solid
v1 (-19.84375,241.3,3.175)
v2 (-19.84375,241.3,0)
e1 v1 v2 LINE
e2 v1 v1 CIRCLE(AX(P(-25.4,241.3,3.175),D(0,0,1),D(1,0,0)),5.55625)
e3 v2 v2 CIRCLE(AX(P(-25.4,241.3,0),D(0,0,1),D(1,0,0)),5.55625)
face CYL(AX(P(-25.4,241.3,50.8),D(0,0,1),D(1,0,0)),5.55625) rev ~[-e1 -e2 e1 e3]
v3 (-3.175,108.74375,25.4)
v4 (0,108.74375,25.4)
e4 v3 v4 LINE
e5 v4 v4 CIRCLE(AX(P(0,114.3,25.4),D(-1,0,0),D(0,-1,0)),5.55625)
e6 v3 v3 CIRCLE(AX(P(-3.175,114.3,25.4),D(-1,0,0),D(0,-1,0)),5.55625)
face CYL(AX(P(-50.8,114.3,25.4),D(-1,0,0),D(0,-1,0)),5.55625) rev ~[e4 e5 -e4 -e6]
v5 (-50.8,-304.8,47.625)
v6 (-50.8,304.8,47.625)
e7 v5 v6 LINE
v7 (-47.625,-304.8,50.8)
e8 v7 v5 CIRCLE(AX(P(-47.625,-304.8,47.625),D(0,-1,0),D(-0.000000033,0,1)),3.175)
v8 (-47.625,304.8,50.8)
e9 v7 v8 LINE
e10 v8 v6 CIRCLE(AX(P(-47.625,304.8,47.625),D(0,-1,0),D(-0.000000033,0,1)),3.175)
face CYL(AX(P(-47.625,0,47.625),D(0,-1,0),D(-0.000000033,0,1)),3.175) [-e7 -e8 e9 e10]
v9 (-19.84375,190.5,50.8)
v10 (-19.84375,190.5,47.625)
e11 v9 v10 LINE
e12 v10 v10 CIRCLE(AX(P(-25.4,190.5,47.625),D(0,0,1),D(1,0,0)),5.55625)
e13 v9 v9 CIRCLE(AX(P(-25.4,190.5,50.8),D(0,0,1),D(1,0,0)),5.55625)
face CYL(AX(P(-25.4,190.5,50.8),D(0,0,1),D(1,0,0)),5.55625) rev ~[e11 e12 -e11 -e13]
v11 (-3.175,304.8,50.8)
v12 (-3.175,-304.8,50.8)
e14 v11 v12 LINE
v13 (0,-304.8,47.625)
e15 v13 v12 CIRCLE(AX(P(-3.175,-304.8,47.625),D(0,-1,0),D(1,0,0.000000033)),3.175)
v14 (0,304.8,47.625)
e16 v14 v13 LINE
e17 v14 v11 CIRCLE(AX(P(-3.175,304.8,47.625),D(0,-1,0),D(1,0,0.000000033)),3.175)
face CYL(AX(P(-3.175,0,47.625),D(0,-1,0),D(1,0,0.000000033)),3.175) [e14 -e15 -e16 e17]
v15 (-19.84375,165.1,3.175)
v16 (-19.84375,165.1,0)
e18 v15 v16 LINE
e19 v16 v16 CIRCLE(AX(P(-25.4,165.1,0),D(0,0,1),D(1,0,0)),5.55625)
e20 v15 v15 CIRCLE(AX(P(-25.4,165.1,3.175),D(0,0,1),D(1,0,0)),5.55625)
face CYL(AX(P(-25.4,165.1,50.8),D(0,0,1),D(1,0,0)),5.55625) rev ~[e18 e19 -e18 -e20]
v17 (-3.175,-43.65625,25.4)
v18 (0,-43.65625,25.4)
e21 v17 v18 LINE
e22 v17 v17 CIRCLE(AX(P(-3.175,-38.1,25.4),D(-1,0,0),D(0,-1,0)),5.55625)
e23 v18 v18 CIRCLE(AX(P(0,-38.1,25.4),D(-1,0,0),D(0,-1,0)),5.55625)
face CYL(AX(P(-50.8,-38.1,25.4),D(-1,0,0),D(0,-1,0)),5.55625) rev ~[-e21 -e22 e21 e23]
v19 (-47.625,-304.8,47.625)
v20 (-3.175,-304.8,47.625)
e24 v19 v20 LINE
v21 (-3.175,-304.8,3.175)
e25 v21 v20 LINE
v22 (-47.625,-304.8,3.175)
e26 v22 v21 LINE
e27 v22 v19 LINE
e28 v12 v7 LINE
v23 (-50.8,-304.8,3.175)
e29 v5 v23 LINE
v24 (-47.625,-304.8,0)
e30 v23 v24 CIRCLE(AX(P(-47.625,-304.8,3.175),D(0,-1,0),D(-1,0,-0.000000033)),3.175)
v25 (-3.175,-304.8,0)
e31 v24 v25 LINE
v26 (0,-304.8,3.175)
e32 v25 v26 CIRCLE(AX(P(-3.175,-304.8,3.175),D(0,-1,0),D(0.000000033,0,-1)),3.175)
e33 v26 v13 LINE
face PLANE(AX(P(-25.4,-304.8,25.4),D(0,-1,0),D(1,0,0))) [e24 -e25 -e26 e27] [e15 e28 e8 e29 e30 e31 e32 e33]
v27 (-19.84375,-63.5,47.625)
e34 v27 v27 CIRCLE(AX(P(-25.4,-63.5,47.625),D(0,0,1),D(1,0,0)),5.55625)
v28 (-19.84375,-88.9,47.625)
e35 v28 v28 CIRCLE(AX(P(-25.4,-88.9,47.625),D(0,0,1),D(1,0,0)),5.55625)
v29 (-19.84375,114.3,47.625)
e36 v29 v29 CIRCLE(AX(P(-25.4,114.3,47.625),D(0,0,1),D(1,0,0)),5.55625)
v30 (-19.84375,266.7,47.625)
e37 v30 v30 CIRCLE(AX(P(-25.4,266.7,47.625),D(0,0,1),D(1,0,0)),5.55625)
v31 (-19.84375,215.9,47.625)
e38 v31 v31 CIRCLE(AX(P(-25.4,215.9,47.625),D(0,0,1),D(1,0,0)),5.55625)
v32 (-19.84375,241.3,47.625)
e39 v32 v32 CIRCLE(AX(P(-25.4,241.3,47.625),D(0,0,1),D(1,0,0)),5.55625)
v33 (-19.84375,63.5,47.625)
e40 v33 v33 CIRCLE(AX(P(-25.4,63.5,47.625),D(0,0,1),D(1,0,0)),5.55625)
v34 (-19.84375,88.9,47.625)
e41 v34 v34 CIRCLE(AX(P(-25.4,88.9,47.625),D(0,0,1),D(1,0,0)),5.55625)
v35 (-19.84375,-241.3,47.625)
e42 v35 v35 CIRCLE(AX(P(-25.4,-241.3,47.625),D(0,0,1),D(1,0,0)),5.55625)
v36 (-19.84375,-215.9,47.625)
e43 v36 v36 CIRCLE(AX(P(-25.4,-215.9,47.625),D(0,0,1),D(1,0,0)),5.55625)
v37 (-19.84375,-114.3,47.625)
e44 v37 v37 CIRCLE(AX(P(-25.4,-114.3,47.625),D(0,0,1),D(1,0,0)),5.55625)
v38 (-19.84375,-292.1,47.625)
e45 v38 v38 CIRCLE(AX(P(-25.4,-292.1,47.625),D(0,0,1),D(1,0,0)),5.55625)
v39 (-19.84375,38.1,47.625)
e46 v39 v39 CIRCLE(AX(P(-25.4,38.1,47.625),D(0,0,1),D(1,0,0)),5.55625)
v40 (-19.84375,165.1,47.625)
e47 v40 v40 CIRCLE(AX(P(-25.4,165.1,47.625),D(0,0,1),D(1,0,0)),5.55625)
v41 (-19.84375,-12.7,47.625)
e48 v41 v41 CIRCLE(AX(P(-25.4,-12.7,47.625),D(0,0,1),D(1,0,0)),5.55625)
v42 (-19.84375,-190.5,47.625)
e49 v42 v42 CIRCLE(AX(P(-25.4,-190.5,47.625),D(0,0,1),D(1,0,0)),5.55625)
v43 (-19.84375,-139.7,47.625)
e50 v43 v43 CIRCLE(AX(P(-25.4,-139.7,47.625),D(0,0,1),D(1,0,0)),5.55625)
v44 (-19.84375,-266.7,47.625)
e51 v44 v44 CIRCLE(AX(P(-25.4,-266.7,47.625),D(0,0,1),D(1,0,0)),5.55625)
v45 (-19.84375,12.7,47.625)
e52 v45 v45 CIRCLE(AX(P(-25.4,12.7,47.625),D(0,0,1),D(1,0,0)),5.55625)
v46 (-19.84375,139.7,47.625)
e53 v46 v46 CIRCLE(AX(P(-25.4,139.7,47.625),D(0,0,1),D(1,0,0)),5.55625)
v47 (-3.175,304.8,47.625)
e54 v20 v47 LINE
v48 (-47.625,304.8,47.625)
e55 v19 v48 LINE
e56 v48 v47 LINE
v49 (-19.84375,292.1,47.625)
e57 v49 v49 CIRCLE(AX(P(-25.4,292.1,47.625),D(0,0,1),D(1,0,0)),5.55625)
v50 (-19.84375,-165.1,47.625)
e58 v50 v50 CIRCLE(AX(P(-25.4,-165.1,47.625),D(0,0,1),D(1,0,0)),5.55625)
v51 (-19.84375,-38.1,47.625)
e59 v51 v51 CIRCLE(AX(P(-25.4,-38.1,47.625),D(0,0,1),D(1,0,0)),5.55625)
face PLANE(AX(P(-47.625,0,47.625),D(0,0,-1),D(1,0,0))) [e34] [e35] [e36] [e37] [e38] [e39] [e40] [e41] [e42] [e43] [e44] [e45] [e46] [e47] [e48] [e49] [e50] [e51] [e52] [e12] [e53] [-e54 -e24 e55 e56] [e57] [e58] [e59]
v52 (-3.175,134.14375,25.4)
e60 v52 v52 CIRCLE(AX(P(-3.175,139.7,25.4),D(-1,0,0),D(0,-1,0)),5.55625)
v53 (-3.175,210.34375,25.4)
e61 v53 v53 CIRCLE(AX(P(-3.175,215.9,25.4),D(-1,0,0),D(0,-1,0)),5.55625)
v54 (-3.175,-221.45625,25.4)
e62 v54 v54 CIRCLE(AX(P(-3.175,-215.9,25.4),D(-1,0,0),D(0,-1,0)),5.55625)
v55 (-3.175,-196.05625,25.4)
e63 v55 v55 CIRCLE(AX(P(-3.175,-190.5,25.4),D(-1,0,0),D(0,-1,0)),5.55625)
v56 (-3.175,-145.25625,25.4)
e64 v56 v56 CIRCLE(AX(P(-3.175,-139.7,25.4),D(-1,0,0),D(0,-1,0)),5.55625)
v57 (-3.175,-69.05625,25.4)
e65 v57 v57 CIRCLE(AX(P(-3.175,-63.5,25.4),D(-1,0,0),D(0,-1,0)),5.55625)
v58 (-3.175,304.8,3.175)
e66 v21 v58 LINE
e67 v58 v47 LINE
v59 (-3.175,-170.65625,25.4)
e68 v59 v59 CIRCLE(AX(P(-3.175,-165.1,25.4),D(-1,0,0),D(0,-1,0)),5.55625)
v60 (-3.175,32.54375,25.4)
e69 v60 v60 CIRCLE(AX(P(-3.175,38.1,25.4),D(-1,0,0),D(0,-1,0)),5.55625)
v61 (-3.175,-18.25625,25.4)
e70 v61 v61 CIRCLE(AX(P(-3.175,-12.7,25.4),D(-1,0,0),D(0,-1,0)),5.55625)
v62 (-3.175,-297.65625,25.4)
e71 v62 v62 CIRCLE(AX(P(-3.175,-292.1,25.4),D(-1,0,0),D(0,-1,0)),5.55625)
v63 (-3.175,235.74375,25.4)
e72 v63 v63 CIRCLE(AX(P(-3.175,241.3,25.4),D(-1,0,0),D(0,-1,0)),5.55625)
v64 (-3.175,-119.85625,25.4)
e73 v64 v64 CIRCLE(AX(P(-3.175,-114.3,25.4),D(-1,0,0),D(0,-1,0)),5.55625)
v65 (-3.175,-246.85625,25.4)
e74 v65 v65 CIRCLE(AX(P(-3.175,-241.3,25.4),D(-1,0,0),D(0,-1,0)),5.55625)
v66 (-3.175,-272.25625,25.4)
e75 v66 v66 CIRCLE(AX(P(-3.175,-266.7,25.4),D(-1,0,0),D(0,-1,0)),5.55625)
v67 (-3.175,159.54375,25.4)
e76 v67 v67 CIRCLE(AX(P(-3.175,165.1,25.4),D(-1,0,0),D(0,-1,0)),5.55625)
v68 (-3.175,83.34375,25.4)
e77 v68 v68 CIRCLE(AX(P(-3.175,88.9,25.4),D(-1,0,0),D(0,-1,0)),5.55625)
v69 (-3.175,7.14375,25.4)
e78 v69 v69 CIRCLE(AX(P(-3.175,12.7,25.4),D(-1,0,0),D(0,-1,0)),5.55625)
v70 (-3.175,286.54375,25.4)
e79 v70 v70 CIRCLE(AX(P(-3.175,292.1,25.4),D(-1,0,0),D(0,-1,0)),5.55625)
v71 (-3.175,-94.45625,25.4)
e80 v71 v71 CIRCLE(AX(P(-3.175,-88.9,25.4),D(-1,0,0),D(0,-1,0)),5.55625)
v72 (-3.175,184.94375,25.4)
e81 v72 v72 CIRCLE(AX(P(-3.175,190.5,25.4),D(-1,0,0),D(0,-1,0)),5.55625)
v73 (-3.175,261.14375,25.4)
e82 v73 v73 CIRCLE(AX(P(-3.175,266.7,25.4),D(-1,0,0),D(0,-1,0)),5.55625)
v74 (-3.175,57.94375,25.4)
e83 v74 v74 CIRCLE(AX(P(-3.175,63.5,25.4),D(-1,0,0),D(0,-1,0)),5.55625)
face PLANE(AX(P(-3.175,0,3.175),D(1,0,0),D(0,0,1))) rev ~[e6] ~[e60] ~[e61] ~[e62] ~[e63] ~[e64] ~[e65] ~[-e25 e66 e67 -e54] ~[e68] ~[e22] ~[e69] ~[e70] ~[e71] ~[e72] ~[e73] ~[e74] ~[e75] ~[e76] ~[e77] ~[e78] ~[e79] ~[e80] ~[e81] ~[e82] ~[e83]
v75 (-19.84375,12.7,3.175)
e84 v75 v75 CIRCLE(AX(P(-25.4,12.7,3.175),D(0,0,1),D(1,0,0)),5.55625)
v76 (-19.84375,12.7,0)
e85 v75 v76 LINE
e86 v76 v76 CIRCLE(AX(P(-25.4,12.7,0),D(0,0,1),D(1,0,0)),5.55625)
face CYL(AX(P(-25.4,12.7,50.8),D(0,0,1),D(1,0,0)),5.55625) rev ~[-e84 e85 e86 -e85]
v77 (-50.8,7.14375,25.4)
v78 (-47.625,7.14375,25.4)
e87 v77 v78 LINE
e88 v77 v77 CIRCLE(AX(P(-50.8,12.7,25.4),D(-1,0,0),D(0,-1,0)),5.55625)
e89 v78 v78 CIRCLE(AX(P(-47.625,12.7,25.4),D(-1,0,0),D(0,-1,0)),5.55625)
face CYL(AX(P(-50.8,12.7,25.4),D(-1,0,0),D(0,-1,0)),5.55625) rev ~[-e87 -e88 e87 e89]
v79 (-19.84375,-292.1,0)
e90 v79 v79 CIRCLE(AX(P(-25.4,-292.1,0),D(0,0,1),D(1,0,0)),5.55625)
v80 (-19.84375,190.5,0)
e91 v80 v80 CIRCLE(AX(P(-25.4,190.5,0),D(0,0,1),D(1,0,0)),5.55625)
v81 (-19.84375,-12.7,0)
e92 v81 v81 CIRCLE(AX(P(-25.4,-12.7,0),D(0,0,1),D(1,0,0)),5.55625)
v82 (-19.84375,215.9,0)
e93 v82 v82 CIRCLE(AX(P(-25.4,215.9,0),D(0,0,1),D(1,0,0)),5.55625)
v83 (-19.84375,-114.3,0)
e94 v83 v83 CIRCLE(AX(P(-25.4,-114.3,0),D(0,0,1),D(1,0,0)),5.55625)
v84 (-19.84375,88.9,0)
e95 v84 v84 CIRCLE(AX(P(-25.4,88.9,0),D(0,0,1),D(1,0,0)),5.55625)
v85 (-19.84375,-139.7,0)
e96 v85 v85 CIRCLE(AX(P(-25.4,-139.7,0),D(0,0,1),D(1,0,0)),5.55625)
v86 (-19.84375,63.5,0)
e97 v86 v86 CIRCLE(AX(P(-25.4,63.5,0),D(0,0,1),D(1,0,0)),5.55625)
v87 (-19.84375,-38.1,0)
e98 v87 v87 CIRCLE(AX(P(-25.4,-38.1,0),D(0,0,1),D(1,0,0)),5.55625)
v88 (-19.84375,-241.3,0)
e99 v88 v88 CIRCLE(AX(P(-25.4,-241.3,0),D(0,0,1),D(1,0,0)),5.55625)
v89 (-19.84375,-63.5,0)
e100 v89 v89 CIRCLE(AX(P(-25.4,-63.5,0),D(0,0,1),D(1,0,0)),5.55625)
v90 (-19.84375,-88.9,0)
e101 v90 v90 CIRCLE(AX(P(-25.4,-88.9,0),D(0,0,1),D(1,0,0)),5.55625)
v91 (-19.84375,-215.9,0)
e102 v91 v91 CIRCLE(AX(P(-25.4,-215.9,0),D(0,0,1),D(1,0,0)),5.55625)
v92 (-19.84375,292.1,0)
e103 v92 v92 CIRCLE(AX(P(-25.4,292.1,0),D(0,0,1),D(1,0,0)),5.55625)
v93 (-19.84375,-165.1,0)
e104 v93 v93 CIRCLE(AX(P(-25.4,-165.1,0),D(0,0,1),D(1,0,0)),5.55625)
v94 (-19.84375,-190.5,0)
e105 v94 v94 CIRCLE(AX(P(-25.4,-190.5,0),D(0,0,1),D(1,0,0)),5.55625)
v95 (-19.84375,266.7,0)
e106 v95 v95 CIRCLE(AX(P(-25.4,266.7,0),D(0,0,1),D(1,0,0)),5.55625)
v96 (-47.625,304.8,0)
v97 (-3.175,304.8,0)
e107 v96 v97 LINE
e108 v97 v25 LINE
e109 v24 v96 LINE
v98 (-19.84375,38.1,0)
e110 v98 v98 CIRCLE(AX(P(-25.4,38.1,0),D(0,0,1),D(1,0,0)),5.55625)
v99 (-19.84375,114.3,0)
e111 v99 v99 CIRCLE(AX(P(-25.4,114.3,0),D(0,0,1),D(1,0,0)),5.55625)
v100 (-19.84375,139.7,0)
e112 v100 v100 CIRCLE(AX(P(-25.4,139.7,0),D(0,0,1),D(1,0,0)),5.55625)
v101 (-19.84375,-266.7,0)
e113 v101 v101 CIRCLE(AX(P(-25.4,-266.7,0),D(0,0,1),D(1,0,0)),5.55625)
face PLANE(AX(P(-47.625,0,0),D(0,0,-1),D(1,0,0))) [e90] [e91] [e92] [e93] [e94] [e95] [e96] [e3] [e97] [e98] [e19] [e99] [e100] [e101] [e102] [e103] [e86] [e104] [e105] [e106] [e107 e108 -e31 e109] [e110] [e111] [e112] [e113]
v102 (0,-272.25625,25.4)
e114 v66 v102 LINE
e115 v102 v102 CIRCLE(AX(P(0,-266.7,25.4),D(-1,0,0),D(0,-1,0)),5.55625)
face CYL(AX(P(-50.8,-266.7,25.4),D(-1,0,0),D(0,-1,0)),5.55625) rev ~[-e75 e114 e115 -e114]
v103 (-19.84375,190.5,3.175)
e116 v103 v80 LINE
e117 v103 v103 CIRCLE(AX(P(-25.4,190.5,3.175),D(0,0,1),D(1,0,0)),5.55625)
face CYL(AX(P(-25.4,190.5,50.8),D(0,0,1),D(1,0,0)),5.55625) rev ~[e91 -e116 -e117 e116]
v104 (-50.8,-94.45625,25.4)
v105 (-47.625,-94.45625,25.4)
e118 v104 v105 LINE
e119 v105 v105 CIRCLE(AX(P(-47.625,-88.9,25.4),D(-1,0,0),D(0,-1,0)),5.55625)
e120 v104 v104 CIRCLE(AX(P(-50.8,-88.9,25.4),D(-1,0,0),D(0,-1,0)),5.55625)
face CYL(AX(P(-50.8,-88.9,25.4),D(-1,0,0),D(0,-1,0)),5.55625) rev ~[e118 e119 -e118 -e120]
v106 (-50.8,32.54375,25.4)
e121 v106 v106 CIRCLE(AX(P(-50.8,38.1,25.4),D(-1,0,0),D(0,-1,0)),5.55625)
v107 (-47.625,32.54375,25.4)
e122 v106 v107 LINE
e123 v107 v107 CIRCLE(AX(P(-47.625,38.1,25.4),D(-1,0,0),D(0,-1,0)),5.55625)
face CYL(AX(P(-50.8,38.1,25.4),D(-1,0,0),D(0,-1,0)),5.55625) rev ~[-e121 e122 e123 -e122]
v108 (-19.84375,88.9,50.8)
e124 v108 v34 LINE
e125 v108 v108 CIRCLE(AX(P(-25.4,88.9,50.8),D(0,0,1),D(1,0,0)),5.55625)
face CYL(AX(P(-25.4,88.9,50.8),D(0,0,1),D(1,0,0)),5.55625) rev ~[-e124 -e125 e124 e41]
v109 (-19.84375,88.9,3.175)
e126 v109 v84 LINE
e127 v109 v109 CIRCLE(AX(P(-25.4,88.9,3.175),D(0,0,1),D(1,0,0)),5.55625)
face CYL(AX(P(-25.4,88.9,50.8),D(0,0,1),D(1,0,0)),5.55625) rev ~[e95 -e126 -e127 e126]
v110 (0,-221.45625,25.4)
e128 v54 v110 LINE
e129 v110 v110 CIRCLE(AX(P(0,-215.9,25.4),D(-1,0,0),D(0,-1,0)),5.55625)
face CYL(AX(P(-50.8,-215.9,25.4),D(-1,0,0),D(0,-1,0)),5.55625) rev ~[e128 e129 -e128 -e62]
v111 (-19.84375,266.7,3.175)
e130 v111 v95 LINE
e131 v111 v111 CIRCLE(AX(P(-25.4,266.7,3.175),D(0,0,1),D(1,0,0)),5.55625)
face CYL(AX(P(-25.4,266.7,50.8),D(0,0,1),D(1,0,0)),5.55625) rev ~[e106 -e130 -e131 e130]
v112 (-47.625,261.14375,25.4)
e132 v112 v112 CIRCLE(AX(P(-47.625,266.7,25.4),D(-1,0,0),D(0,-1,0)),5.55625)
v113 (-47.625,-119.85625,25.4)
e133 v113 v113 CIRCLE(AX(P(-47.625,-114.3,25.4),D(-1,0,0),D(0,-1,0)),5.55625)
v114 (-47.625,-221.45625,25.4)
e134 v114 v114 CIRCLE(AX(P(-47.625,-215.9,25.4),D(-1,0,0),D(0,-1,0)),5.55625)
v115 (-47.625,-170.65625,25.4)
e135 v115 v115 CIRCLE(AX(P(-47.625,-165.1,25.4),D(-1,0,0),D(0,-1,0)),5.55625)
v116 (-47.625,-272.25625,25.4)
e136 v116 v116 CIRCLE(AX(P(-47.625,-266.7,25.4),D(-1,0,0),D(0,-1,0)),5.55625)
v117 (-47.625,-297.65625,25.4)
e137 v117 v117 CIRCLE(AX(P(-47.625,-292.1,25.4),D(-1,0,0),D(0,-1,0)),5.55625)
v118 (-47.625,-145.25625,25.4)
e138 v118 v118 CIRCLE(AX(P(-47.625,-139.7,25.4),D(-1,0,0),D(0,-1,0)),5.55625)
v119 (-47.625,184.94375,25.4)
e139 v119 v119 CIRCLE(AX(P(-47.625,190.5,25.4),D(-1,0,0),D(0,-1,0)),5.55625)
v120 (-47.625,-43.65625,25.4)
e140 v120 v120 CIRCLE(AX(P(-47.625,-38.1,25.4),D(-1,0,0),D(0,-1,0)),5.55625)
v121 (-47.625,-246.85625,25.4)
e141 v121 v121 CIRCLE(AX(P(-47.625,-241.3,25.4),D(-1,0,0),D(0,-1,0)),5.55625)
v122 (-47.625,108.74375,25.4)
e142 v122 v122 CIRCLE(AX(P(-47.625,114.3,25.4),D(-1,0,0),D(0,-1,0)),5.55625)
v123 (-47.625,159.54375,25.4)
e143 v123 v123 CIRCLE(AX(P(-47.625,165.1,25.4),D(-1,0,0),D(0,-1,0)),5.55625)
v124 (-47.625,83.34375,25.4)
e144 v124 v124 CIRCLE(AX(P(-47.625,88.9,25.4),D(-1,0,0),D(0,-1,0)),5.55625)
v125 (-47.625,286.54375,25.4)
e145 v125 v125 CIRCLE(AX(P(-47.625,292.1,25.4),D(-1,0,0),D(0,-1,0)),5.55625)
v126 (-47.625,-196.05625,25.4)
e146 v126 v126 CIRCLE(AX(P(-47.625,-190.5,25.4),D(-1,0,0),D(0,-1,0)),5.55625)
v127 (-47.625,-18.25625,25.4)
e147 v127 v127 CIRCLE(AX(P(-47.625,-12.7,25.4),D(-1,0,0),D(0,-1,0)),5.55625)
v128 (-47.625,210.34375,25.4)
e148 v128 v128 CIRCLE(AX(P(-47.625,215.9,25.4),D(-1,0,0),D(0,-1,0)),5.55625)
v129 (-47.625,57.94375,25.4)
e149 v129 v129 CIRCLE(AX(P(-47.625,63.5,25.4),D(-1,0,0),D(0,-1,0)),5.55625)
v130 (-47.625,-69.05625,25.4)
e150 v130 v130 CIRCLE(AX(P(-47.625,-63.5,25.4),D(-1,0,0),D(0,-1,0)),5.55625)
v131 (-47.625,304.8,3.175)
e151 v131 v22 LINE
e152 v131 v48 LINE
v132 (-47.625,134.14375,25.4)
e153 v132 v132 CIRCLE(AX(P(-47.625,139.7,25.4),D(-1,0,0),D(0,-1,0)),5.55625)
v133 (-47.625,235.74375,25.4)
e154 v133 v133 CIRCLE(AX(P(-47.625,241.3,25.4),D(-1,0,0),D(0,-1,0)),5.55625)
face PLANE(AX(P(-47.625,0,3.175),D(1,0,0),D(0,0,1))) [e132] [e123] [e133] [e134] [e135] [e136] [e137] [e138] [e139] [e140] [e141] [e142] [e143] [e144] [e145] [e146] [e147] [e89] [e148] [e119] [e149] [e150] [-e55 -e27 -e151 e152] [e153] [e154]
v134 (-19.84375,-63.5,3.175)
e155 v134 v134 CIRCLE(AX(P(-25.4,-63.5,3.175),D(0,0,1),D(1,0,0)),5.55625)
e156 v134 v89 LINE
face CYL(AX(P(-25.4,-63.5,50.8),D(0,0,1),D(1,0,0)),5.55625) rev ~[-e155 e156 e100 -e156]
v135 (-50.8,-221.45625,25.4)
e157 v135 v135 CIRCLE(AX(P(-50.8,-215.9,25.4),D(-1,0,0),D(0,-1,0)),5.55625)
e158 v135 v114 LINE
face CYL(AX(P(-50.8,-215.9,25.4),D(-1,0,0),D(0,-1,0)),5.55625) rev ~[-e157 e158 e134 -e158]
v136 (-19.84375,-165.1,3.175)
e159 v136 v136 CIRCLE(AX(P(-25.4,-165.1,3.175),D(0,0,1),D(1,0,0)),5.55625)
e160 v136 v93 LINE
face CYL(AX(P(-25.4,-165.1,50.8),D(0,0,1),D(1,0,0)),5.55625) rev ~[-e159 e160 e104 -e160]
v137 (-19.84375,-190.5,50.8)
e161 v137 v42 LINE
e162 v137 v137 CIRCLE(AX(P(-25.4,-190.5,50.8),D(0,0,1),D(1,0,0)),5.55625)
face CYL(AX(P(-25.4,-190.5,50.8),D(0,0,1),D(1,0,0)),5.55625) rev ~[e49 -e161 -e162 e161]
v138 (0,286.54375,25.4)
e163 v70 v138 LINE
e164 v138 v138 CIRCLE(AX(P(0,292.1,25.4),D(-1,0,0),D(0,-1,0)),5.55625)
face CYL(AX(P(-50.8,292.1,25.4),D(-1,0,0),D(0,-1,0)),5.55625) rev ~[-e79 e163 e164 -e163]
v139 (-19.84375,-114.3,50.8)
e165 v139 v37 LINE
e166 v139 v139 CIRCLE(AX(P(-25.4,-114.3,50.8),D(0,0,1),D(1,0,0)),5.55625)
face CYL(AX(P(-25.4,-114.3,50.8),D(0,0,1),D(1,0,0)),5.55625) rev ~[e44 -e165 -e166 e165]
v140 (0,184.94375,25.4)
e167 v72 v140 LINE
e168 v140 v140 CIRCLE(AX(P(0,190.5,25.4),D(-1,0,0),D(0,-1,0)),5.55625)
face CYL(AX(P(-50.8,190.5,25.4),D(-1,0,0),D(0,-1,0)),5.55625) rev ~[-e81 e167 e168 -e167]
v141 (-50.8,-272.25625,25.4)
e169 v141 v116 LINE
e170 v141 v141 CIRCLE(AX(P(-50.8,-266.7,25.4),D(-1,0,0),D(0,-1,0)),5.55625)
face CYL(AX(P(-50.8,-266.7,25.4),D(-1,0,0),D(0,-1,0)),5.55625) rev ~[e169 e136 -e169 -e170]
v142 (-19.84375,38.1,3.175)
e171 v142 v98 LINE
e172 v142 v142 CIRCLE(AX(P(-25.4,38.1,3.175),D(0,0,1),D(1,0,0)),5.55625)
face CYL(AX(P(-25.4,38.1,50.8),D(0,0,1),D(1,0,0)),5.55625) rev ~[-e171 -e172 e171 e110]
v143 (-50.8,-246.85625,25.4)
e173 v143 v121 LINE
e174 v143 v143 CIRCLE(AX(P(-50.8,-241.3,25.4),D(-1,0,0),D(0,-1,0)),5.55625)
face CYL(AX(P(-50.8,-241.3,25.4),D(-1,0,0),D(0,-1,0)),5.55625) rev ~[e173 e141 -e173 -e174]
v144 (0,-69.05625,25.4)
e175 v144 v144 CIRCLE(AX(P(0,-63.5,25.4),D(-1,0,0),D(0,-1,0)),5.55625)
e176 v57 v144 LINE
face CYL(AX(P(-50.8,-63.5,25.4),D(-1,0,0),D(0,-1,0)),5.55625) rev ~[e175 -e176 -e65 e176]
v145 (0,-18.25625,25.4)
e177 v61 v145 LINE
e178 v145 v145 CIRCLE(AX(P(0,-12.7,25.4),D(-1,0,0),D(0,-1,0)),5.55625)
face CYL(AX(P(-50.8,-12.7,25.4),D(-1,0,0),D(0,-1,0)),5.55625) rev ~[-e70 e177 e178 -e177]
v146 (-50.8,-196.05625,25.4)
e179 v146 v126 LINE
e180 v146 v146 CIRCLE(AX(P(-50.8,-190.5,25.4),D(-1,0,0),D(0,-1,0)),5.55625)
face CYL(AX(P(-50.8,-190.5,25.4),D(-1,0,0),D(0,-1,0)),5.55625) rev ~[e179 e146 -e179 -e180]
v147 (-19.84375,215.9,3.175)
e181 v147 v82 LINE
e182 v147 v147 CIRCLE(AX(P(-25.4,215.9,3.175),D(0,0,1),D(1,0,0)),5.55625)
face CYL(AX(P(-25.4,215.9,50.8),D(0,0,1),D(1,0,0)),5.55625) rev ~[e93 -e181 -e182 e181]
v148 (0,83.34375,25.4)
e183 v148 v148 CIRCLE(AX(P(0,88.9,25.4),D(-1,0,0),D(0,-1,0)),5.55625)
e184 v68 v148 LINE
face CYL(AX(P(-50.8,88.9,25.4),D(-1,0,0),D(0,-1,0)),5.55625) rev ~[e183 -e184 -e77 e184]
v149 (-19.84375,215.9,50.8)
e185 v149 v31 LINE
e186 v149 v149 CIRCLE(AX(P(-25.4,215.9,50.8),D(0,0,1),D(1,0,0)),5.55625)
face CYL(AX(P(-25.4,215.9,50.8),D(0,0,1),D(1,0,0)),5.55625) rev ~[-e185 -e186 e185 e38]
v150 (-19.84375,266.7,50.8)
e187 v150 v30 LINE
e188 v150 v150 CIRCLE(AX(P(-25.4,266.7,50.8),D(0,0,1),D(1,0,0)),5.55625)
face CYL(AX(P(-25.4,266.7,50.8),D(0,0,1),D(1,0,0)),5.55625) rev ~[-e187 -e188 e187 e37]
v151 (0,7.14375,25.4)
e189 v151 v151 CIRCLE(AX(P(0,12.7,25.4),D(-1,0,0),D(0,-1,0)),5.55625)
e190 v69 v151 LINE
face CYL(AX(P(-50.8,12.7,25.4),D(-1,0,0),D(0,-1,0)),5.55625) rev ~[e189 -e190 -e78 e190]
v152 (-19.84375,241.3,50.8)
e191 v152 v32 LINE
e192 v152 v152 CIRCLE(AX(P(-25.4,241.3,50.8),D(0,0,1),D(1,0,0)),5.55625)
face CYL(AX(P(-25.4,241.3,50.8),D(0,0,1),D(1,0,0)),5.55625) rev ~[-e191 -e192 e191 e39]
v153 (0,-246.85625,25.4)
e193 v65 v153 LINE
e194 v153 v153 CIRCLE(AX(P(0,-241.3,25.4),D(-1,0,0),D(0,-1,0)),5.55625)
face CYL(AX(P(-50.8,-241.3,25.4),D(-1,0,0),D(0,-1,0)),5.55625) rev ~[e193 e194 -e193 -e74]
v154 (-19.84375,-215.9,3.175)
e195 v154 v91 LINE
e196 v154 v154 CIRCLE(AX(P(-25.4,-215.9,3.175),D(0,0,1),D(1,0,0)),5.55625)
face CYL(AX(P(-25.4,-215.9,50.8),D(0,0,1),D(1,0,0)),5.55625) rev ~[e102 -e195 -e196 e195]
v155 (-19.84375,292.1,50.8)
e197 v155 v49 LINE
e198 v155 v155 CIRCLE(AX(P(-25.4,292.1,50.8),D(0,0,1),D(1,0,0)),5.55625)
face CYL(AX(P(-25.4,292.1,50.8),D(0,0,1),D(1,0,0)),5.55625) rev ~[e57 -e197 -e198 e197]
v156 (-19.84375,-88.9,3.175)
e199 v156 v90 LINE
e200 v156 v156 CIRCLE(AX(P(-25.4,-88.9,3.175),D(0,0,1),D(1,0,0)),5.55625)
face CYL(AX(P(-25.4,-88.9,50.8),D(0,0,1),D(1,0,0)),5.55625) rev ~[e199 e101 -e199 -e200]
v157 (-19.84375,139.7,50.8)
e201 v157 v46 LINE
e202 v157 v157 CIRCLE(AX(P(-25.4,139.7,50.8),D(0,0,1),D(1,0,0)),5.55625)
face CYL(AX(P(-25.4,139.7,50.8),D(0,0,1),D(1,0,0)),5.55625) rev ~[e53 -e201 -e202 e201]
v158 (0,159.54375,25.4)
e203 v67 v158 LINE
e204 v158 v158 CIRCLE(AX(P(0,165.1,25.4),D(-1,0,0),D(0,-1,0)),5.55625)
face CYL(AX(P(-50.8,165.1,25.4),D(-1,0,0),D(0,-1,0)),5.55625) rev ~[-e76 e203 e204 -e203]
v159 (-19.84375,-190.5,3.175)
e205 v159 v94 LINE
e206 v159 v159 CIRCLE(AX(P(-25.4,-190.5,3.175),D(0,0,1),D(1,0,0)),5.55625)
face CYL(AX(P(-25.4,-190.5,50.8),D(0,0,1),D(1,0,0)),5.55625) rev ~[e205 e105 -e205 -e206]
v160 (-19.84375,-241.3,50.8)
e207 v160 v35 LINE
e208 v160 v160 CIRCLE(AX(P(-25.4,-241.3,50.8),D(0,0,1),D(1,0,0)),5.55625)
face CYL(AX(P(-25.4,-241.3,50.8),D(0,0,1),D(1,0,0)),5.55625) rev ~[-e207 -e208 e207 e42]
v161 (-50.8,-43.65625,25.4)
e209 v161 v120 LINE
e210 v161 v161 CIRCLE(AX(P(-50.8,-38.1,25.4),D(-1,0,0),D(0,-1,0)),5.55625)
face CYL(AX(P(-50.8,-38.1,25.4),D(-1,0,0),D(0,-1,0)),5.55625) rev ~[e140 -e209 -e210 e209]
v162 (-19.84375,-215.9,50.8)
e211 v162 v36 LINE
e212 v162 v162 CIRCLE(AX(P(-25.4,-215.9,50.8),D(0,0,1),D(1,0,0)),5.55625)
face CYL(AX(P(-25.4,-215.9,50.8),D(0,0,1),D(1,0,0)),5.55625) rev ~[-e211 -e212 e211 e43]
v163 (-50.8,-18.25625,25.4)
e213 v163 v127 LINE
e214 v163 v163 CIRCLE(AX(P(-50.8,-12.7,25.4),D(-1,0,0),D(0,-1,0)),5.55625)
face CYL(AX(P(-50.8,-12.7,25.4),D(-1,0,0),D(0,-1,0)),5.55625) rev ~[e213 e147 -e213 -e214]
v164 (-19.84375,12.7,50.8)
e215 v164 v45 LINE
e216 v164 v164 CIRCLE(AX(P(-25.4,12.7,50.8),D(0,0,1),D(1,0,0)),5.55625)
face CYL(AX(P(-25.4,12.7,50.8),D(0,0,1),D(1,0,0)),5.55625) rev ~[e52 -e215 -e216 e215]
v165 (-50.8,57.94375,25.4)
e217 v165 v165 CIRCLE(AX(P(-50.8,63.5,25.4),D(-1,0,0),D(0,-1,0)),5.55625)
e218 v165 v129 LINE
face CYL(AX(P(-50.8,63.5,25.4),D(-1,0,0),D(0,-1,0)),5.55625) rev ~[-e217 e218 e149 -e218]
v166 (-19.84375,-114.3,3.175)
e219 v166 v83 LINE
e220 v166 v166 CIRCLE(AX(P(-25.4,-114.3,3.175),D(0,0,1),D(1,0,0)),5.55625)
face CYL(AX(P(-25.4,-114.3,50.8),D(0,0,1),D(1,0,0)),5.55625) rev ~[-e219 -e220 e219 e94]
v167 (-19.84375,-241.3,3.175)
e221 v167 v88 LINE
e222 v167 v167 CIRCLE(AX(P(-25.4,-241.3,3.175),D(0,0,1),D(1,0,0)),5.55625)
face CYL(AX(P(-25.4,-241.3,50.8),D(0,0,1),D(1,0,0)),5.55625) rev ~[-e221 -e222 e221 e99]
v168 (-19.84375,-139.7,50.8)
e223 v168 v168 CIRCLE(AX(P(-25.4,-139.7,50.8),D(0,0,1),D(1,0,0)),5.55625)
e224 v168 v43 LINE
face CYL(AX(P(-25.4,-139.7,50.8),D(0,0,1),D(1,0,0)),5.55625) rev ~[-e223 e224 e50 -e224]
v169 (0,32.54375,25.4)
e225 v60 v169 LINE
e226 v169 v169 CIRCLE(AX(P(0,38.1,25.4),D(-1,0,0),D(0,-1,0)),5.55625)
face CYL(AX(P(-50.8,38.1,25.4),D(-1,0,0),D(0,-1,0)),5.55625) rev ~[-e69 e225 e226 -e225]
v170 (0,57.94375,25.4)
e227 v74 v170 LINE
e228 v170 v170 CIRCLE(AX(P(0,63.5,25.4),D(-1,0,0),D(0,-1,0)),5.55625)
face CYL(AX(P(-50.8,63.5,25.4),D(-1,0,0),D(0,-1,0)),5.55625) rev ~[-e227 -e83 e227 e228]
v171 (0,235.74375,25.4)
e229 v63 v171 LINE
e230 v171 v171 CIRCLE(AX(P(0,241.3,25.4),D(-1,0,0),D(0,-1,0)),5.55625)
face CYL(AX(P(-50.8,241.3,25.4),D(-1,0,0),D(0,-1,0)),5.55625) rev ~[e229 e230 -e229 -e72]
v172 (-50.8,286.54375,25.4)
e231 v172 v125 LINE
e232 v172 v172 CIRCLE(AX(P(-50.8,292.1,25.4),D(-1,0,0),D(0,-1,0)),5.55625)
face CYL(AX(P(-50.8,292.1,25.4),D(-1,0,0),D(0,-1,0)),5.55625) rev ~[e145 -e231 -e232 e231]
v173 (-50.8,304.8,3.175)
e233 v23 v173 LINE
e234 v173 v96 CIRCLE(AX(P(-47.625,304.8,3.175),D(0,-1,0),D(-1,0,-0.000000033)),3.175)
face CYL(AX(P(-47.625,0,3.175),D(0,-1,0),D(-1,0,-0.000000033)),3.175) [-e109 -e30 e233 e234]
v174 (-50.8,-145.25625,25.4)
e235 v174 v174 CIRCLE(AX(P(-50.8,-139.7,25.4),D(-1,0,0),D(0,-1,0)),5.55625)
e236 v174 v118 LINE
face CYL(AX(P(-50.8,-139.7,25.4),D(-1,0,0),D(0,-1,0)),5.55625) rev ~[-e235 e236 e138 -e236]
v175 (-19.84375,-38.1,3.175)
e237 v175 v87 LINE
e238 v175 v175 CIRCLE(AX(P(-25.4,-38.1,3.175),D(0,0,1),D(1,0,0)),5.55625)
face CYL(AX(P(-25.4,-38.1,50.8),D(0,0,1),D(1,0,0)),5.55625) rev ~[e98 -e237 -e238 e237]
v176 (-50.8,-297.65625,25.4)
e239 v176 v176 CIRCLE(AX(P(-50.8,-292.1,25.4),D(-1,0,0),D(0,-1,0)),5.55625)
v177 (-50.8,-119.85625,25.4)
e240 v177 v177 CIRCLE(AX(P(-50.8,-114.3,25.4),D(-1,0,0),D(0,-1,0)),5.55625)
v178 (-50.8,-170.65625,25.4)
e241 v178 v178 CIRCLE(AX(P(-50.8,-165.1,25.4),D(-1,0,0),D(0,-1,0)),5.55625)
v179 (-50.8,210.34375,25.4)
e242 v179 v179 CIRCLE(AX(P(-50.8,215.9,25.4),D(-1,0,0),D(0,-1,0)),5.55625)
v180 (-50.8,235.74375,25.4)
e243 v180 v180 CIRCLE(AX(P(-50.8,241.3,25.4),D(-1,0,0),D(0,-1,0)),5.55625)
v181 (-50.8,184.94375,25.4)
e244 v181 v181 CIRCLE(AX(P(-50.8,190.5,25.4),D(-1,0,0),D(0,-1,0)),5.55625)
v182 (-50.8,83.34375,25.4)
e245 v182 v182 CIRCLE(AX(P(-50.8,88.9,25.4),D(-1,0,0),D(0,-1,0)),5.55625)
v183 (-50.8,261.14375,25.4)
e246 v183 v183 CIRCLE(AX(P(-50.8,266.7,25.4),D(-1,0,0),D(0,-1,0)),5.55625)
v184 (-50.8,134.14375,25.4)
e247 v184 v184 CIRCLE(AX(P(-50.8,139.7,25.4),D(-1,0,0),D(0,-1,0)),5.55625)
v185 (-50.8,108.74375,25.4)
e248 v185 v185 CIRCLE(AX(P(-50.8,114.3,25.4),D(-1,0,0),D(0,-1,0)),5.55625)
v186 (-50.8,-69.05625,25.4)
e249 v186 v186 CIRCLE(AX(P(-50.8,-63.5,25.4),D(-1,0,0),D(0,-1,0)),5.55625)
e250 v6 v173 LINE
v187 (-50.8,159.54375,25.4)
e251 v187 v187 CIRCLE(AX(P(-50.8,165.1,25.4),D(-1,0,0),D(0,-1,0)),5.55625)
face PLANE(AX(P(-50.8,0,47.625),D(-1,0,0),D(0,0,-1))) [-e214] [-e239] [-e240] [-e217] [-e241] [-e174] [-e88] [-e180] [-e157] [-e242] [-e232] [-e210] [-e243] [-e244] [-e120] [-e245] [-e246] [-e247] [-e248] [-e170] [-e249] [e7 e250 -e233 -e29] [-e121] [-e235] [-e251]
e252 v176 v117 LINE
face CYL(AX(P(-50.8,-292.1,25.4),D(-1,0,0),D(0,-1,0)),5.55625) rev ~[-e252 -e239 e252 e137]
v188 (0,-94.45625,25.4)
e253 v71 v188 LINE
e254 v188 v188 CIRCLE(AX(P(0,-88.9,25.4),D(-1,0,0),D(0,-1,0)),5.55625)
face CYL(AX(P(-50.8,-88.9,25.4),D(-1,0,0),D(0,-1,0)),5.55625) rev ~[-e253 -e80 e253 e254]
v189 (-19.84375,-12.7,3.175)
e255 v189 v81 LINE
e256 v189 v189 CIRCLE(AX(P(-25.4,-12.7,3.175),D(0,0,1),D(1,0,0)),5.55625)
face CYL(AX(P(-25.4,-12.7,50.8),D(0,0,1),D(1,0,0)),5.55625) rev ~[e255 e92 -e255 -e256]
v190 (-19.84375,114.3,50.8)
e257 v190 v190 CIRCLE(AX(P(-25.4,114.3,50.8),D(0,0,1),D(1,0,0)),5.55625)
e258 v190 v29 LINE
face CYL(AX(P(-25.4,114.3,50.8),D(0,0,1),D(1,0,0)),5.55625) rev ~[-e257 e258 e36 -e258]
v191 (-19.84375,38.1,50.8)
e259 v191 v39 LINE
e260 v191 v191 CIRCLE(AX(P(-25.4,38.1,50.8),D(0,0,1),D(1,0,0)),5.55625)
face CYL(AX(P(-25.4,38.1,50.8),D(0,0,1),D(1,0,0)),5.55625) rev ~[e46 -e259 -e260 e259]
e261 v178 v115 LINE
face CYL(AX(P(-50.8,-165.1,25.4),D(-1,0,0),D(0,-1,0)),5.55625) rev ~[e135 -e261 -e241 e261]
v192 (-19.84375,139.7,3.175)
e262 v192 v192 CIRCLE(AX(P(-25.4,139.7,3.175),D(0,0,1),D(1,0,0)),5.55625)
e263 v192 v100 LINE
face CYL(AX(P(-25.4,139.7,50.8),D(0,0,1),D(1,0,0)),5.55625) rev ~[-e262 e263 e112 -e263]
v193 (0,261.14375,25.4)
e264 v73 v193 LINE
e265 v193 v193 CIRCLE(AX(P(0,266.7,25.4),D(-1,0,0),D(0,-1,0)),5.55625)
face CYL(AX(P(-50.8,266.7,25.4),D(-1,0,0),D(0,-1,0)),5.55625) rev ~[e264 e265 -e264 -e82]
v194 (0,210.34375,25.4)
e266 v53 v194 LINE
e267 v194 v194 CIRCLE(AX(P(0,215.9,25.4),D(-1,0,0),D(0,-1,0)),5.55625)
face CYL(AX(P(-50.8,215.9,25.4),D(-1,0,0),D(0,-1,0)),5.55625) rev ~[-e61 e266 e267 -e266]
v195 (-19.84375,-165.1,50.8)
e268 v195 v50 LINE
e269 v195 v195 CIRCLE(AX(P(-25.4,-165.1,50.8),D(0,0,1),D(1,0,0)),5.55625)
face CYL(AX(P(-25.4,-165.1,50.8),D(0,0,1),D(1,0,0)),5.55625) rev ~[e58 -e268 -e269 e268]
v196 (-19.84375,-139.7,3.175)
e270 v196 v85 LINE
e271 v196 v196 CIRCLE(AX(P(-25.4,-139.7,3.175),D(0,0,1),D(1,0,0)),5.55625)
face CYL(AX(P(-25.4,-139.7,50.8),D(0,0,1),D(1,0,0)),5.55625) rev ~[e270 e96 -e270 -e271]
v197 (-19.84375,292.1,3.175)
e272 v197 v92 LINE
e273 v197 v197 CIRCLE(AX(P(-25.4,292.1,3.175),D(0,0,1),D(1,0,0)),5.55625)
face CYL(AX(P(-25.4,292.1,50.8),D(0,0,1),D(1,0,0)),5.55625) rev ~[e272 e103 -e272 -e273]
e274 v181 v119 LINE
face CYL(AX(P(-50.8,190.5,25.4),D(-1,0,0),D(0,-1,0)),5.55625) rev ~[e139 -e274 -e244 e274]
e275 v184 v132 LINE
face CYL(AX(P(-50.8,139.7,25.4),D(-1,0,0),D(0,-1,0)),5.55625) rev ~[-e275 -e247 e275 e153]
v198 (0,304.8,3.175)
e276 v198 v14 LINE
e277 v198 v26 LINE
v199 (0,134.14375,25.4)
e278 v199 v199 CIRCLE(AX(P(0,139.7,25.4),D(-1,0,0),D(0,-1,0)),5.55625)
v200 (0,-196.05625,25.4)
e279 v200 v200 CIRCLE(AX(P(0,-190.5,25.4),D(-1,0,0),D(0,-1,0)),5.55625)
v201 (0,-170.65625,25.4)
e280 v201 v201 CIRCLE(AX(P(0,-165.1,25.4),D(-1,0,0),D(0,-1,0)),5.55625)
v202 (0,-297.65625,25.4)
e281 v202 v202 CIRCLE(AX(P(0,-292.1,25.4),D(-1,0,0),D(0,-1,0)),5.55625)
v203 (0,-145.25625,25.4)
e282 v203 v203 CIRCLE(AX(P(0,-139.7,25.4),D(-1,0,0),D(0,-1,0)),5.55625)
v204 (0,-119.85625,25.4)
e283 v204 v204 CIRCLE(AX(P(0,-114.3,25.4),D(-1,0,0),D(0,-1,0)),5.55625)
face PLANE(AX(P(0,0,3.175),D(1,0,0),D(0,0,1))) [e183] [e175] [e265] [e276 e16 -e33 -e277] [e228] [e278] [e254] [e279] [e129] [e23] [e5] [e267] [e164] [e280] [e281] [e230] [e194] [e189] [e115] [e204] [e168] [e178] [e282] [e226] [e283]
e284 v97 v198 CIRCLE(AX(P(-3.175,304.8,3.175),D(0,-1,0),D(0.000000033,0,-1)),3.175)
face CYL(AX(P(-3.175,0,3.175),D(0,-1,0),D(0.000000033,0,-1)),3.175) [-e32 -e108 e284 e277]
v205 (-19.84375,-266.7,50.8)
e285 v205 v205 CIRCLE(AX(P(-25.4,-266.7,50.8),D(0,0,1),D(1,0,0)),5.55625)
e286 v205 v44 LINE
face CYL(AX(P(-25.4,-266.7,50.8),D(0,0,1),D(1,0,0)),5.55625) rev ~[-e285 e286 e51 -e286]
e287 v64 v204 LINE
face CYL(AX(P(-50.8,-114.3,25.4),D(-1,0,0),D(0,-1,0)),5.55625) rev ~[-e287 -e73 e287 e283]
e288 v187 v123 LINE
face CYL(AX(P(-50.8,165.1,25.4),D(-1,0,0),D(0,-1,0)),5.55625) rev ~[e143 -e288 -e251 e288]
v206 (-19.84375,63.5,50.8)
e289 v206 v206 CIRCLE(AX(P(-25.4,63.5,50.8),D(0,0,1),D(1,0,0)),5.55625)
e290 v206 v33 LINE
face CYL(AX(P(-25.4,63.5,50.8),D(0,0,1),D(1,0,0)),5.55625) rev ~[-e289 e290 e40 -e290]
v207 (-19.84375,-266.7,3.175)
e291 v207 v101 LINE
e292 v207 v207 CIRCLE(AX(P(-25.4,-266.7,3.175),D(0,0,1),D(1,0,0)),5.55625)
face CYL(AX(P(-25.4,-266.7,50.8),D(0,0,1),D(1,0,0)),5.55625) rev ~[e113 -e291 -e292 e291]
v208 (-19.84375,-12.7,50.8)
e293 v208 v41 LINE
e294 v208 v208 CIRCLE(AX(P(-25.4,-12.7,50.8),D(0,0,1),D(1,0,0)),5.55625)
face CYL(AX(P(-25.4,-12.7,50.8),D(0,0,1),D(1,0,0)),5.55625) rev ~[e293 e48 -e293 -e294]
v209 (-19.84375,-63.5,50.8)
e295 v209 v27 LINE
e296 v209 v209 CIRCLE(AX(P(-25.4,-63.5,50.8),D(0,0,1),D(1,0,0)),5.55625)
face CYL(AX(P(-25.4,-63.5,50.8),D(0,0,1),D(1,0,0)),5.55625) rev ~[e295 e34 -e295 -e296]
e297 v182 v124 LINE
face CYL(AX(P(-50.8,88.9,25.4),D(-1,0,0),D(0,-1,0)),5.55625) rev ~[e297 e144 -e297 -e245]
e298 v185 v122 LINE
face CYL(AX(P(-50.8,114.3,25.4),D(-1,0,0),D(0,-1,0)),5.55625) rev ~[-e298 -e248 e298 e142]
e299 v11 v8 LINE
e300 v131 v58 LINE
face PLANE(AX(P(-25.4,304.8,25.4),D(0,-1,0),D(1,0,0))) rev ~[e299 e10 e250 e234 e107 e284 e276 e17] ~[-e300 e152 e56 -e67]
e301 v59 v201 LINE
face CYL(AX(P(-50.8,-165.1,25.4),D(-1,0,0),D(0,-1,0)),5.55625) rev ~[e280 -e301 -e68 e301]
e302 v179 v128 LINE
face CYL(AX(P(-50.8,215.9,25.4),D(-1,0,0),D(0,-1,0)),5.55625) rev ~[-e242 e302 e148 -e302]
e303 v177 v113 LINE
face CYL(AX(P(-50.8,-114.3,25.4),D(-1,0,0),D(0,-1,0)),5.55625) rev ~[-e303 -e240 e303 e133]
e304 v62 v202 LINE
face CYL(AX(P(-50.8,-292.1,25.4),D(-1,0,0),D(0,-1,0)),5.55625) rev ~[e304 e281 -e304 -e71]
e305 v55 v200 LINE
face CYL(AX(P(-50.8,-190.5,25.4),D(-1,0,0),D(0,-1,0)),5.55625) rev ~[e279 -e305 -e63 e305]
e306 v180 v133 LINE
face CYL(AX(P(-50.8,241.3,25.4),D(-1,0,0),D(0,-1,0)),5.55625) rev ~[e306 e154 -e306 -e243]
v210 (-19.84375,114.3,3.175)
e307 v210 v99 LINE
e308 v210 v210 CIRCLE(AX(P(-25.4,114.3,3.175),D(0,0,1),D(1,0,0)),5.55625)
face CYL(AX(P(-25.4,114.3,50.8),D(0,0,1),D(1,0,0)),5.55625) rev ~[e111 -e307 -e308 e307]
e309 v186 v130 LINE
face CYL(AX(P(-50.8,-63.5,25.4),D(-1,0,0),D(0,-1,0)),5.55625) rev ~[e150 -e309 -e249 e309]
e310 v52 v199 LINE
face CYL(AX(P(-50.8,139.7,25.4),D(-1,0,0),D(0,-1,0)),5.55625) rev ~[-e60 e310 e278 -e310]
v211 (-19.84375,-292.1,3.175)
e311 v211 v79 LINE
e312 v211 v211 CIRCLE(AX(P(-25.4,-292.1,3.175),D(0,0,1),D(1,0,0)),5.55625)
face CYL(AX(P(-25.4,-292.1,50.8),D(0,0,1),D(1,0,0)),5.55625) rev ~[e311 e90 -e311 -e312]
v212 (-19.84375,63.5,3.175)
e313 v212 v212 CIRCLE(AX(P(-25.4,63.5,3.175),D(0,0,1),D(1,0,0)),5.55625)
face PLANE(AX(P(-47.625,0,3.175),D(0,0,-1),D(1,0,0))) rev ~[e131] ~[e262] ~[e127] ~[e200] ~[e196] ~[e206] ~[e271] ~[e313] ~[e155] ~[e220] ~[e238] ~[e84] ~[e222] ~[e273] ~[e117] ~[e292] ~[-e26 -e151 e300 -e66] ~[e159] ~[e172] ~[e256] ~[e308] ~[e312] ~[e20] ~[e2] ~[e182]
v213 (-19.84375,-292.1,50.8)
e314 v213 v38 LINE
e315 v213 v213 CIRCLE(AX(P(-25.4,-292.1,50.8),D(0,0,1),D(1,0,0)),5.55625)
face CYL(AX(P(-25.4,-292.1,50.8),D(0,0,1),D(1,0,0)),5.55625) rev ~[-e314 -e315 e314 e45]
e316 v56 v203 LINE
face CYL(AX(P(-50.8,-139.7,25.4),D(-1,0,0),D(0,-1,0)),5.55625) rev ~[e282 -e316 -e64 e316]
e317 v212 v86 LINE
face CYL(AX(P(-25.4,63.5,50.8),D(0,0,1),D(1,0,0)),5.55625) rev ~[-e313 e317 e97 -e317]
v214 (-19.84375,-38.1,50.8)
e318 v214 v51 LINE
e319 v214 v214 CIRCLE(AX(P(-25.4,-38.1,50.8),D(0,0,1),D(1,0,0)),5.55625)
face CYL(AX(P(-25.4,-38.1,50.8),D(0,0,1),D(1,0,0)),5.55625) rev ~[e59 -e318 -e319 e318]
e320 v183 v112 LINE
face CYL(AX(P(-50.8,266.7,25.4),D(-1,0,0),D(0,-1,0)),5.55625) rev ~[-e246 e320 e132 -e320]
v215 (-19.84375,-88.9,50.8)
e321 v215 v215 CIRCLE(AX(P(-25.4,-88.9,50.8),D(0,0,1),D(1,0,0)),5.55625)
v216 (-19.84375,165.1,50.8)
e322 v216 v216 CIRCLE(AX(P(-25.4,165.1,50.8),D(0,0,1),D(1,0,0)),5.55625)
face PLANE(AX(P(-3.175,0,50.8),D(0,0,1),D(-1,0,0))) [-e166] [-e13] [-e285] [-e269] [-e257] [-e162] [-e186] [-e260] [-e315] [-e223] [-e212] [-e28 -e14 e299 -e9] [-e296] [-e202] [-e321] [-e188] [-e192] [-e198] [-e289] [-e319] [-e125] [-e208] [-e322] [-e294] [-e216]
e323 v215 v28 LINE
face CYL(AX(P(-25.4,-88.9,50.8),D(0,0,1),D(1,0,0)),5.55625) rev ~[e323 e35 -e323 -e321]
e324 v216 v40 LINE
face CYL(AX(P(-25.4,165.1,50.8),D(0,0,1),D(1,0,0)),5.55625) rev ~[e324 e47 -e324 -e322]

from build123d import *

# Parameters (mm, degrees)
F0_W     = 44.45
F0_H     = 44.45
F1_DEPTH = 304.8
F2_R     = 5.55625
F3_DEPTH = 50.8
F4_R     = 5.55625
F5_DEPTH = 50.8


with BuildPart() as f1:
    # F0 (on Front) → F1 (new body, symmetric)
    with BuildSketch(Plane.XZ):
        with BuildLine():
            Line((-47.625, 0), (-3.175, 0))
            ThreePointArc((-3.175, 0), (-0.929936, 0.929936), (0, 3.175))
            Line((0, 3.175), (0, 47.625))
            ThreePointArc((0, 47.625), (-0.929936, 49.870064), (-3.175, 50.8))
            Line((-3.175, 50.8), (-47.625, 50.8))
            ThreePointArc((-47.625, 50.8), (-49.870064, 49.870064), (-50.8, 47.625))
            Line((-50.8, 47.625), (-50.8, 3.175))
            ThreePointArc((-50.8, 3.175), (-49.870064, 0.929936), (-47.625, 0))
        make_face()
        with Locations((-25.4, 25.4)):
            Rectangle(F0_W, F0_H, mode=Mode.SUBTRACT)
    extrude(amount=F1_DEPTH, both=True)

    # F2 (on face) → F3 (cut)
    with BuildSketch(Plane(origin=(-50.8, 0, 0), x_dir=(0, -1, 0), z_dir=(-1, 0, 0))):
        with Locations((-292.1, 25.4)):
            Circle(F2_R)
        with Locations((-266.7, 25.4)):
            Circle(F2_R)
        with Locations((-241.3, 25.4)):
            Circle(F2_R)
        with Locations((-215.9, 25.4)):
            Circle(F2_R)
        with Locations((-190.5, 25.4)):
            Circle(F2_R)
        with Locations((-165.1, 25.4)):
            Circle(F2_R)
        with Locations((-139.7, 25.4)):
            Circle(F2_R)
        with Locations((-114.3, 25.4)):
            Circle(F2_R)
        with Locations((-88.9, 25.4)):
            Circle(F2_R)
        with Locations((-63.5, 25.4)):
            Circle(F2_R)
        with Locations((-38.1, 25.4)):
            Circle(F2_R)
        with Locations((-12.7, 25.4)):
            Circle(F2_R)
        with Locations((12.7, 25.4)):
            Circle(F2_R)
        with Locations((38.1, 25.4)):
            Circle(F2_R)
        with Locations((63.5, 25.4)):
            Circle(F2_R)
        with Locations((88.9, 25.4)):
            Circle(F2_R)
        with Locations((114.3, 25.4)):
            Circle(F2_R)
        with Locations((139.7, 25.4)):
            Circle(F2_R)
        with Locations((165.1, 25.4)):
            Circle(F2_R)
        with Locations((190.5, 25.4)):
            Circle(F2_R)
        with Locations((215.9, 25.4)):
            Circle(F2_R)
        with Locations((241.3, 25.4)):
            Circle(F2_R)
        with Locations((266.7, 25.4)):
            Circle(F2_R)
        with Locations((292.1, 25.4)):
            Circle(F2_R)
    extrude(amount=-F3_DEPTH, mode=Mode.SUBTRACT)

    # F4 (on face) → F5 (cut)
    with BuildSketch(Plane.XY.offset(50.8)):
        with Locations((-25.4, -292.1)):
            Circle(F4_R)
        with Locations((-25.4, -266.7)):
            Circle(F4_R)
        with Locations((-25.4, -241.3)):
            Circle(F4_R)
        with Locations((-25.4, -215.9)):
            Circle(F4_R)
        with Locations((-25.4, -190.5)):
            Circle(F4_R)
        with Locations((-25.4, -165.1)):
            Circle(F4_R)
        with Locations((-25.4, -139.7)):
            Circle(F4_R)
        with Locations((-25.4, -114.3)):
            Circle(F4_R)
        with Locations((-25.4, -88.9)):
            Circle(F4_R)
        with Locations((-25.4, -63.5)):
            Circle(F4_R)
        with Locations((-25.4, -38.1)):
            Circle(F4_R)
        with Locations((-25.4, -12.7)):
            Circle(F4_R)
        with Locations((-25.4, 12.7)):
            Circle(F4_R)
        with Locations((-25.4, 38.1)):
            Circle(F4_R)
        with Locations((-25.4, 63.5)):
            Circle(F4_R)
        with Locations((-25.4, 88.9)):
            Circle(F4_R)
        with Locations((-25.4, 114.3)):
            Circle(F4_R)
        with Locations((-25.4, 139.7)):
            Circle(F4_R)
        with Locations((-25.4, 165.1)):
            Circle(F4_R)
        with Locations((-25.4, 190.5)):
            Circle(F4_R)
        with Locations((-25.4, 215.9)):
            Circle(F4_R)
        with Locations((-25.4, 241.3)):
            Circle(F4_R)
        with Locations((-25.4, 266.7)):
            Circle(F4_R)
        with Locations((-25.4, 292.1)):
            Circle(F4_R)
    extrude(amount=-F5_DEPTH, mode=Mode.SUBTRACT)


solid = f1.part
